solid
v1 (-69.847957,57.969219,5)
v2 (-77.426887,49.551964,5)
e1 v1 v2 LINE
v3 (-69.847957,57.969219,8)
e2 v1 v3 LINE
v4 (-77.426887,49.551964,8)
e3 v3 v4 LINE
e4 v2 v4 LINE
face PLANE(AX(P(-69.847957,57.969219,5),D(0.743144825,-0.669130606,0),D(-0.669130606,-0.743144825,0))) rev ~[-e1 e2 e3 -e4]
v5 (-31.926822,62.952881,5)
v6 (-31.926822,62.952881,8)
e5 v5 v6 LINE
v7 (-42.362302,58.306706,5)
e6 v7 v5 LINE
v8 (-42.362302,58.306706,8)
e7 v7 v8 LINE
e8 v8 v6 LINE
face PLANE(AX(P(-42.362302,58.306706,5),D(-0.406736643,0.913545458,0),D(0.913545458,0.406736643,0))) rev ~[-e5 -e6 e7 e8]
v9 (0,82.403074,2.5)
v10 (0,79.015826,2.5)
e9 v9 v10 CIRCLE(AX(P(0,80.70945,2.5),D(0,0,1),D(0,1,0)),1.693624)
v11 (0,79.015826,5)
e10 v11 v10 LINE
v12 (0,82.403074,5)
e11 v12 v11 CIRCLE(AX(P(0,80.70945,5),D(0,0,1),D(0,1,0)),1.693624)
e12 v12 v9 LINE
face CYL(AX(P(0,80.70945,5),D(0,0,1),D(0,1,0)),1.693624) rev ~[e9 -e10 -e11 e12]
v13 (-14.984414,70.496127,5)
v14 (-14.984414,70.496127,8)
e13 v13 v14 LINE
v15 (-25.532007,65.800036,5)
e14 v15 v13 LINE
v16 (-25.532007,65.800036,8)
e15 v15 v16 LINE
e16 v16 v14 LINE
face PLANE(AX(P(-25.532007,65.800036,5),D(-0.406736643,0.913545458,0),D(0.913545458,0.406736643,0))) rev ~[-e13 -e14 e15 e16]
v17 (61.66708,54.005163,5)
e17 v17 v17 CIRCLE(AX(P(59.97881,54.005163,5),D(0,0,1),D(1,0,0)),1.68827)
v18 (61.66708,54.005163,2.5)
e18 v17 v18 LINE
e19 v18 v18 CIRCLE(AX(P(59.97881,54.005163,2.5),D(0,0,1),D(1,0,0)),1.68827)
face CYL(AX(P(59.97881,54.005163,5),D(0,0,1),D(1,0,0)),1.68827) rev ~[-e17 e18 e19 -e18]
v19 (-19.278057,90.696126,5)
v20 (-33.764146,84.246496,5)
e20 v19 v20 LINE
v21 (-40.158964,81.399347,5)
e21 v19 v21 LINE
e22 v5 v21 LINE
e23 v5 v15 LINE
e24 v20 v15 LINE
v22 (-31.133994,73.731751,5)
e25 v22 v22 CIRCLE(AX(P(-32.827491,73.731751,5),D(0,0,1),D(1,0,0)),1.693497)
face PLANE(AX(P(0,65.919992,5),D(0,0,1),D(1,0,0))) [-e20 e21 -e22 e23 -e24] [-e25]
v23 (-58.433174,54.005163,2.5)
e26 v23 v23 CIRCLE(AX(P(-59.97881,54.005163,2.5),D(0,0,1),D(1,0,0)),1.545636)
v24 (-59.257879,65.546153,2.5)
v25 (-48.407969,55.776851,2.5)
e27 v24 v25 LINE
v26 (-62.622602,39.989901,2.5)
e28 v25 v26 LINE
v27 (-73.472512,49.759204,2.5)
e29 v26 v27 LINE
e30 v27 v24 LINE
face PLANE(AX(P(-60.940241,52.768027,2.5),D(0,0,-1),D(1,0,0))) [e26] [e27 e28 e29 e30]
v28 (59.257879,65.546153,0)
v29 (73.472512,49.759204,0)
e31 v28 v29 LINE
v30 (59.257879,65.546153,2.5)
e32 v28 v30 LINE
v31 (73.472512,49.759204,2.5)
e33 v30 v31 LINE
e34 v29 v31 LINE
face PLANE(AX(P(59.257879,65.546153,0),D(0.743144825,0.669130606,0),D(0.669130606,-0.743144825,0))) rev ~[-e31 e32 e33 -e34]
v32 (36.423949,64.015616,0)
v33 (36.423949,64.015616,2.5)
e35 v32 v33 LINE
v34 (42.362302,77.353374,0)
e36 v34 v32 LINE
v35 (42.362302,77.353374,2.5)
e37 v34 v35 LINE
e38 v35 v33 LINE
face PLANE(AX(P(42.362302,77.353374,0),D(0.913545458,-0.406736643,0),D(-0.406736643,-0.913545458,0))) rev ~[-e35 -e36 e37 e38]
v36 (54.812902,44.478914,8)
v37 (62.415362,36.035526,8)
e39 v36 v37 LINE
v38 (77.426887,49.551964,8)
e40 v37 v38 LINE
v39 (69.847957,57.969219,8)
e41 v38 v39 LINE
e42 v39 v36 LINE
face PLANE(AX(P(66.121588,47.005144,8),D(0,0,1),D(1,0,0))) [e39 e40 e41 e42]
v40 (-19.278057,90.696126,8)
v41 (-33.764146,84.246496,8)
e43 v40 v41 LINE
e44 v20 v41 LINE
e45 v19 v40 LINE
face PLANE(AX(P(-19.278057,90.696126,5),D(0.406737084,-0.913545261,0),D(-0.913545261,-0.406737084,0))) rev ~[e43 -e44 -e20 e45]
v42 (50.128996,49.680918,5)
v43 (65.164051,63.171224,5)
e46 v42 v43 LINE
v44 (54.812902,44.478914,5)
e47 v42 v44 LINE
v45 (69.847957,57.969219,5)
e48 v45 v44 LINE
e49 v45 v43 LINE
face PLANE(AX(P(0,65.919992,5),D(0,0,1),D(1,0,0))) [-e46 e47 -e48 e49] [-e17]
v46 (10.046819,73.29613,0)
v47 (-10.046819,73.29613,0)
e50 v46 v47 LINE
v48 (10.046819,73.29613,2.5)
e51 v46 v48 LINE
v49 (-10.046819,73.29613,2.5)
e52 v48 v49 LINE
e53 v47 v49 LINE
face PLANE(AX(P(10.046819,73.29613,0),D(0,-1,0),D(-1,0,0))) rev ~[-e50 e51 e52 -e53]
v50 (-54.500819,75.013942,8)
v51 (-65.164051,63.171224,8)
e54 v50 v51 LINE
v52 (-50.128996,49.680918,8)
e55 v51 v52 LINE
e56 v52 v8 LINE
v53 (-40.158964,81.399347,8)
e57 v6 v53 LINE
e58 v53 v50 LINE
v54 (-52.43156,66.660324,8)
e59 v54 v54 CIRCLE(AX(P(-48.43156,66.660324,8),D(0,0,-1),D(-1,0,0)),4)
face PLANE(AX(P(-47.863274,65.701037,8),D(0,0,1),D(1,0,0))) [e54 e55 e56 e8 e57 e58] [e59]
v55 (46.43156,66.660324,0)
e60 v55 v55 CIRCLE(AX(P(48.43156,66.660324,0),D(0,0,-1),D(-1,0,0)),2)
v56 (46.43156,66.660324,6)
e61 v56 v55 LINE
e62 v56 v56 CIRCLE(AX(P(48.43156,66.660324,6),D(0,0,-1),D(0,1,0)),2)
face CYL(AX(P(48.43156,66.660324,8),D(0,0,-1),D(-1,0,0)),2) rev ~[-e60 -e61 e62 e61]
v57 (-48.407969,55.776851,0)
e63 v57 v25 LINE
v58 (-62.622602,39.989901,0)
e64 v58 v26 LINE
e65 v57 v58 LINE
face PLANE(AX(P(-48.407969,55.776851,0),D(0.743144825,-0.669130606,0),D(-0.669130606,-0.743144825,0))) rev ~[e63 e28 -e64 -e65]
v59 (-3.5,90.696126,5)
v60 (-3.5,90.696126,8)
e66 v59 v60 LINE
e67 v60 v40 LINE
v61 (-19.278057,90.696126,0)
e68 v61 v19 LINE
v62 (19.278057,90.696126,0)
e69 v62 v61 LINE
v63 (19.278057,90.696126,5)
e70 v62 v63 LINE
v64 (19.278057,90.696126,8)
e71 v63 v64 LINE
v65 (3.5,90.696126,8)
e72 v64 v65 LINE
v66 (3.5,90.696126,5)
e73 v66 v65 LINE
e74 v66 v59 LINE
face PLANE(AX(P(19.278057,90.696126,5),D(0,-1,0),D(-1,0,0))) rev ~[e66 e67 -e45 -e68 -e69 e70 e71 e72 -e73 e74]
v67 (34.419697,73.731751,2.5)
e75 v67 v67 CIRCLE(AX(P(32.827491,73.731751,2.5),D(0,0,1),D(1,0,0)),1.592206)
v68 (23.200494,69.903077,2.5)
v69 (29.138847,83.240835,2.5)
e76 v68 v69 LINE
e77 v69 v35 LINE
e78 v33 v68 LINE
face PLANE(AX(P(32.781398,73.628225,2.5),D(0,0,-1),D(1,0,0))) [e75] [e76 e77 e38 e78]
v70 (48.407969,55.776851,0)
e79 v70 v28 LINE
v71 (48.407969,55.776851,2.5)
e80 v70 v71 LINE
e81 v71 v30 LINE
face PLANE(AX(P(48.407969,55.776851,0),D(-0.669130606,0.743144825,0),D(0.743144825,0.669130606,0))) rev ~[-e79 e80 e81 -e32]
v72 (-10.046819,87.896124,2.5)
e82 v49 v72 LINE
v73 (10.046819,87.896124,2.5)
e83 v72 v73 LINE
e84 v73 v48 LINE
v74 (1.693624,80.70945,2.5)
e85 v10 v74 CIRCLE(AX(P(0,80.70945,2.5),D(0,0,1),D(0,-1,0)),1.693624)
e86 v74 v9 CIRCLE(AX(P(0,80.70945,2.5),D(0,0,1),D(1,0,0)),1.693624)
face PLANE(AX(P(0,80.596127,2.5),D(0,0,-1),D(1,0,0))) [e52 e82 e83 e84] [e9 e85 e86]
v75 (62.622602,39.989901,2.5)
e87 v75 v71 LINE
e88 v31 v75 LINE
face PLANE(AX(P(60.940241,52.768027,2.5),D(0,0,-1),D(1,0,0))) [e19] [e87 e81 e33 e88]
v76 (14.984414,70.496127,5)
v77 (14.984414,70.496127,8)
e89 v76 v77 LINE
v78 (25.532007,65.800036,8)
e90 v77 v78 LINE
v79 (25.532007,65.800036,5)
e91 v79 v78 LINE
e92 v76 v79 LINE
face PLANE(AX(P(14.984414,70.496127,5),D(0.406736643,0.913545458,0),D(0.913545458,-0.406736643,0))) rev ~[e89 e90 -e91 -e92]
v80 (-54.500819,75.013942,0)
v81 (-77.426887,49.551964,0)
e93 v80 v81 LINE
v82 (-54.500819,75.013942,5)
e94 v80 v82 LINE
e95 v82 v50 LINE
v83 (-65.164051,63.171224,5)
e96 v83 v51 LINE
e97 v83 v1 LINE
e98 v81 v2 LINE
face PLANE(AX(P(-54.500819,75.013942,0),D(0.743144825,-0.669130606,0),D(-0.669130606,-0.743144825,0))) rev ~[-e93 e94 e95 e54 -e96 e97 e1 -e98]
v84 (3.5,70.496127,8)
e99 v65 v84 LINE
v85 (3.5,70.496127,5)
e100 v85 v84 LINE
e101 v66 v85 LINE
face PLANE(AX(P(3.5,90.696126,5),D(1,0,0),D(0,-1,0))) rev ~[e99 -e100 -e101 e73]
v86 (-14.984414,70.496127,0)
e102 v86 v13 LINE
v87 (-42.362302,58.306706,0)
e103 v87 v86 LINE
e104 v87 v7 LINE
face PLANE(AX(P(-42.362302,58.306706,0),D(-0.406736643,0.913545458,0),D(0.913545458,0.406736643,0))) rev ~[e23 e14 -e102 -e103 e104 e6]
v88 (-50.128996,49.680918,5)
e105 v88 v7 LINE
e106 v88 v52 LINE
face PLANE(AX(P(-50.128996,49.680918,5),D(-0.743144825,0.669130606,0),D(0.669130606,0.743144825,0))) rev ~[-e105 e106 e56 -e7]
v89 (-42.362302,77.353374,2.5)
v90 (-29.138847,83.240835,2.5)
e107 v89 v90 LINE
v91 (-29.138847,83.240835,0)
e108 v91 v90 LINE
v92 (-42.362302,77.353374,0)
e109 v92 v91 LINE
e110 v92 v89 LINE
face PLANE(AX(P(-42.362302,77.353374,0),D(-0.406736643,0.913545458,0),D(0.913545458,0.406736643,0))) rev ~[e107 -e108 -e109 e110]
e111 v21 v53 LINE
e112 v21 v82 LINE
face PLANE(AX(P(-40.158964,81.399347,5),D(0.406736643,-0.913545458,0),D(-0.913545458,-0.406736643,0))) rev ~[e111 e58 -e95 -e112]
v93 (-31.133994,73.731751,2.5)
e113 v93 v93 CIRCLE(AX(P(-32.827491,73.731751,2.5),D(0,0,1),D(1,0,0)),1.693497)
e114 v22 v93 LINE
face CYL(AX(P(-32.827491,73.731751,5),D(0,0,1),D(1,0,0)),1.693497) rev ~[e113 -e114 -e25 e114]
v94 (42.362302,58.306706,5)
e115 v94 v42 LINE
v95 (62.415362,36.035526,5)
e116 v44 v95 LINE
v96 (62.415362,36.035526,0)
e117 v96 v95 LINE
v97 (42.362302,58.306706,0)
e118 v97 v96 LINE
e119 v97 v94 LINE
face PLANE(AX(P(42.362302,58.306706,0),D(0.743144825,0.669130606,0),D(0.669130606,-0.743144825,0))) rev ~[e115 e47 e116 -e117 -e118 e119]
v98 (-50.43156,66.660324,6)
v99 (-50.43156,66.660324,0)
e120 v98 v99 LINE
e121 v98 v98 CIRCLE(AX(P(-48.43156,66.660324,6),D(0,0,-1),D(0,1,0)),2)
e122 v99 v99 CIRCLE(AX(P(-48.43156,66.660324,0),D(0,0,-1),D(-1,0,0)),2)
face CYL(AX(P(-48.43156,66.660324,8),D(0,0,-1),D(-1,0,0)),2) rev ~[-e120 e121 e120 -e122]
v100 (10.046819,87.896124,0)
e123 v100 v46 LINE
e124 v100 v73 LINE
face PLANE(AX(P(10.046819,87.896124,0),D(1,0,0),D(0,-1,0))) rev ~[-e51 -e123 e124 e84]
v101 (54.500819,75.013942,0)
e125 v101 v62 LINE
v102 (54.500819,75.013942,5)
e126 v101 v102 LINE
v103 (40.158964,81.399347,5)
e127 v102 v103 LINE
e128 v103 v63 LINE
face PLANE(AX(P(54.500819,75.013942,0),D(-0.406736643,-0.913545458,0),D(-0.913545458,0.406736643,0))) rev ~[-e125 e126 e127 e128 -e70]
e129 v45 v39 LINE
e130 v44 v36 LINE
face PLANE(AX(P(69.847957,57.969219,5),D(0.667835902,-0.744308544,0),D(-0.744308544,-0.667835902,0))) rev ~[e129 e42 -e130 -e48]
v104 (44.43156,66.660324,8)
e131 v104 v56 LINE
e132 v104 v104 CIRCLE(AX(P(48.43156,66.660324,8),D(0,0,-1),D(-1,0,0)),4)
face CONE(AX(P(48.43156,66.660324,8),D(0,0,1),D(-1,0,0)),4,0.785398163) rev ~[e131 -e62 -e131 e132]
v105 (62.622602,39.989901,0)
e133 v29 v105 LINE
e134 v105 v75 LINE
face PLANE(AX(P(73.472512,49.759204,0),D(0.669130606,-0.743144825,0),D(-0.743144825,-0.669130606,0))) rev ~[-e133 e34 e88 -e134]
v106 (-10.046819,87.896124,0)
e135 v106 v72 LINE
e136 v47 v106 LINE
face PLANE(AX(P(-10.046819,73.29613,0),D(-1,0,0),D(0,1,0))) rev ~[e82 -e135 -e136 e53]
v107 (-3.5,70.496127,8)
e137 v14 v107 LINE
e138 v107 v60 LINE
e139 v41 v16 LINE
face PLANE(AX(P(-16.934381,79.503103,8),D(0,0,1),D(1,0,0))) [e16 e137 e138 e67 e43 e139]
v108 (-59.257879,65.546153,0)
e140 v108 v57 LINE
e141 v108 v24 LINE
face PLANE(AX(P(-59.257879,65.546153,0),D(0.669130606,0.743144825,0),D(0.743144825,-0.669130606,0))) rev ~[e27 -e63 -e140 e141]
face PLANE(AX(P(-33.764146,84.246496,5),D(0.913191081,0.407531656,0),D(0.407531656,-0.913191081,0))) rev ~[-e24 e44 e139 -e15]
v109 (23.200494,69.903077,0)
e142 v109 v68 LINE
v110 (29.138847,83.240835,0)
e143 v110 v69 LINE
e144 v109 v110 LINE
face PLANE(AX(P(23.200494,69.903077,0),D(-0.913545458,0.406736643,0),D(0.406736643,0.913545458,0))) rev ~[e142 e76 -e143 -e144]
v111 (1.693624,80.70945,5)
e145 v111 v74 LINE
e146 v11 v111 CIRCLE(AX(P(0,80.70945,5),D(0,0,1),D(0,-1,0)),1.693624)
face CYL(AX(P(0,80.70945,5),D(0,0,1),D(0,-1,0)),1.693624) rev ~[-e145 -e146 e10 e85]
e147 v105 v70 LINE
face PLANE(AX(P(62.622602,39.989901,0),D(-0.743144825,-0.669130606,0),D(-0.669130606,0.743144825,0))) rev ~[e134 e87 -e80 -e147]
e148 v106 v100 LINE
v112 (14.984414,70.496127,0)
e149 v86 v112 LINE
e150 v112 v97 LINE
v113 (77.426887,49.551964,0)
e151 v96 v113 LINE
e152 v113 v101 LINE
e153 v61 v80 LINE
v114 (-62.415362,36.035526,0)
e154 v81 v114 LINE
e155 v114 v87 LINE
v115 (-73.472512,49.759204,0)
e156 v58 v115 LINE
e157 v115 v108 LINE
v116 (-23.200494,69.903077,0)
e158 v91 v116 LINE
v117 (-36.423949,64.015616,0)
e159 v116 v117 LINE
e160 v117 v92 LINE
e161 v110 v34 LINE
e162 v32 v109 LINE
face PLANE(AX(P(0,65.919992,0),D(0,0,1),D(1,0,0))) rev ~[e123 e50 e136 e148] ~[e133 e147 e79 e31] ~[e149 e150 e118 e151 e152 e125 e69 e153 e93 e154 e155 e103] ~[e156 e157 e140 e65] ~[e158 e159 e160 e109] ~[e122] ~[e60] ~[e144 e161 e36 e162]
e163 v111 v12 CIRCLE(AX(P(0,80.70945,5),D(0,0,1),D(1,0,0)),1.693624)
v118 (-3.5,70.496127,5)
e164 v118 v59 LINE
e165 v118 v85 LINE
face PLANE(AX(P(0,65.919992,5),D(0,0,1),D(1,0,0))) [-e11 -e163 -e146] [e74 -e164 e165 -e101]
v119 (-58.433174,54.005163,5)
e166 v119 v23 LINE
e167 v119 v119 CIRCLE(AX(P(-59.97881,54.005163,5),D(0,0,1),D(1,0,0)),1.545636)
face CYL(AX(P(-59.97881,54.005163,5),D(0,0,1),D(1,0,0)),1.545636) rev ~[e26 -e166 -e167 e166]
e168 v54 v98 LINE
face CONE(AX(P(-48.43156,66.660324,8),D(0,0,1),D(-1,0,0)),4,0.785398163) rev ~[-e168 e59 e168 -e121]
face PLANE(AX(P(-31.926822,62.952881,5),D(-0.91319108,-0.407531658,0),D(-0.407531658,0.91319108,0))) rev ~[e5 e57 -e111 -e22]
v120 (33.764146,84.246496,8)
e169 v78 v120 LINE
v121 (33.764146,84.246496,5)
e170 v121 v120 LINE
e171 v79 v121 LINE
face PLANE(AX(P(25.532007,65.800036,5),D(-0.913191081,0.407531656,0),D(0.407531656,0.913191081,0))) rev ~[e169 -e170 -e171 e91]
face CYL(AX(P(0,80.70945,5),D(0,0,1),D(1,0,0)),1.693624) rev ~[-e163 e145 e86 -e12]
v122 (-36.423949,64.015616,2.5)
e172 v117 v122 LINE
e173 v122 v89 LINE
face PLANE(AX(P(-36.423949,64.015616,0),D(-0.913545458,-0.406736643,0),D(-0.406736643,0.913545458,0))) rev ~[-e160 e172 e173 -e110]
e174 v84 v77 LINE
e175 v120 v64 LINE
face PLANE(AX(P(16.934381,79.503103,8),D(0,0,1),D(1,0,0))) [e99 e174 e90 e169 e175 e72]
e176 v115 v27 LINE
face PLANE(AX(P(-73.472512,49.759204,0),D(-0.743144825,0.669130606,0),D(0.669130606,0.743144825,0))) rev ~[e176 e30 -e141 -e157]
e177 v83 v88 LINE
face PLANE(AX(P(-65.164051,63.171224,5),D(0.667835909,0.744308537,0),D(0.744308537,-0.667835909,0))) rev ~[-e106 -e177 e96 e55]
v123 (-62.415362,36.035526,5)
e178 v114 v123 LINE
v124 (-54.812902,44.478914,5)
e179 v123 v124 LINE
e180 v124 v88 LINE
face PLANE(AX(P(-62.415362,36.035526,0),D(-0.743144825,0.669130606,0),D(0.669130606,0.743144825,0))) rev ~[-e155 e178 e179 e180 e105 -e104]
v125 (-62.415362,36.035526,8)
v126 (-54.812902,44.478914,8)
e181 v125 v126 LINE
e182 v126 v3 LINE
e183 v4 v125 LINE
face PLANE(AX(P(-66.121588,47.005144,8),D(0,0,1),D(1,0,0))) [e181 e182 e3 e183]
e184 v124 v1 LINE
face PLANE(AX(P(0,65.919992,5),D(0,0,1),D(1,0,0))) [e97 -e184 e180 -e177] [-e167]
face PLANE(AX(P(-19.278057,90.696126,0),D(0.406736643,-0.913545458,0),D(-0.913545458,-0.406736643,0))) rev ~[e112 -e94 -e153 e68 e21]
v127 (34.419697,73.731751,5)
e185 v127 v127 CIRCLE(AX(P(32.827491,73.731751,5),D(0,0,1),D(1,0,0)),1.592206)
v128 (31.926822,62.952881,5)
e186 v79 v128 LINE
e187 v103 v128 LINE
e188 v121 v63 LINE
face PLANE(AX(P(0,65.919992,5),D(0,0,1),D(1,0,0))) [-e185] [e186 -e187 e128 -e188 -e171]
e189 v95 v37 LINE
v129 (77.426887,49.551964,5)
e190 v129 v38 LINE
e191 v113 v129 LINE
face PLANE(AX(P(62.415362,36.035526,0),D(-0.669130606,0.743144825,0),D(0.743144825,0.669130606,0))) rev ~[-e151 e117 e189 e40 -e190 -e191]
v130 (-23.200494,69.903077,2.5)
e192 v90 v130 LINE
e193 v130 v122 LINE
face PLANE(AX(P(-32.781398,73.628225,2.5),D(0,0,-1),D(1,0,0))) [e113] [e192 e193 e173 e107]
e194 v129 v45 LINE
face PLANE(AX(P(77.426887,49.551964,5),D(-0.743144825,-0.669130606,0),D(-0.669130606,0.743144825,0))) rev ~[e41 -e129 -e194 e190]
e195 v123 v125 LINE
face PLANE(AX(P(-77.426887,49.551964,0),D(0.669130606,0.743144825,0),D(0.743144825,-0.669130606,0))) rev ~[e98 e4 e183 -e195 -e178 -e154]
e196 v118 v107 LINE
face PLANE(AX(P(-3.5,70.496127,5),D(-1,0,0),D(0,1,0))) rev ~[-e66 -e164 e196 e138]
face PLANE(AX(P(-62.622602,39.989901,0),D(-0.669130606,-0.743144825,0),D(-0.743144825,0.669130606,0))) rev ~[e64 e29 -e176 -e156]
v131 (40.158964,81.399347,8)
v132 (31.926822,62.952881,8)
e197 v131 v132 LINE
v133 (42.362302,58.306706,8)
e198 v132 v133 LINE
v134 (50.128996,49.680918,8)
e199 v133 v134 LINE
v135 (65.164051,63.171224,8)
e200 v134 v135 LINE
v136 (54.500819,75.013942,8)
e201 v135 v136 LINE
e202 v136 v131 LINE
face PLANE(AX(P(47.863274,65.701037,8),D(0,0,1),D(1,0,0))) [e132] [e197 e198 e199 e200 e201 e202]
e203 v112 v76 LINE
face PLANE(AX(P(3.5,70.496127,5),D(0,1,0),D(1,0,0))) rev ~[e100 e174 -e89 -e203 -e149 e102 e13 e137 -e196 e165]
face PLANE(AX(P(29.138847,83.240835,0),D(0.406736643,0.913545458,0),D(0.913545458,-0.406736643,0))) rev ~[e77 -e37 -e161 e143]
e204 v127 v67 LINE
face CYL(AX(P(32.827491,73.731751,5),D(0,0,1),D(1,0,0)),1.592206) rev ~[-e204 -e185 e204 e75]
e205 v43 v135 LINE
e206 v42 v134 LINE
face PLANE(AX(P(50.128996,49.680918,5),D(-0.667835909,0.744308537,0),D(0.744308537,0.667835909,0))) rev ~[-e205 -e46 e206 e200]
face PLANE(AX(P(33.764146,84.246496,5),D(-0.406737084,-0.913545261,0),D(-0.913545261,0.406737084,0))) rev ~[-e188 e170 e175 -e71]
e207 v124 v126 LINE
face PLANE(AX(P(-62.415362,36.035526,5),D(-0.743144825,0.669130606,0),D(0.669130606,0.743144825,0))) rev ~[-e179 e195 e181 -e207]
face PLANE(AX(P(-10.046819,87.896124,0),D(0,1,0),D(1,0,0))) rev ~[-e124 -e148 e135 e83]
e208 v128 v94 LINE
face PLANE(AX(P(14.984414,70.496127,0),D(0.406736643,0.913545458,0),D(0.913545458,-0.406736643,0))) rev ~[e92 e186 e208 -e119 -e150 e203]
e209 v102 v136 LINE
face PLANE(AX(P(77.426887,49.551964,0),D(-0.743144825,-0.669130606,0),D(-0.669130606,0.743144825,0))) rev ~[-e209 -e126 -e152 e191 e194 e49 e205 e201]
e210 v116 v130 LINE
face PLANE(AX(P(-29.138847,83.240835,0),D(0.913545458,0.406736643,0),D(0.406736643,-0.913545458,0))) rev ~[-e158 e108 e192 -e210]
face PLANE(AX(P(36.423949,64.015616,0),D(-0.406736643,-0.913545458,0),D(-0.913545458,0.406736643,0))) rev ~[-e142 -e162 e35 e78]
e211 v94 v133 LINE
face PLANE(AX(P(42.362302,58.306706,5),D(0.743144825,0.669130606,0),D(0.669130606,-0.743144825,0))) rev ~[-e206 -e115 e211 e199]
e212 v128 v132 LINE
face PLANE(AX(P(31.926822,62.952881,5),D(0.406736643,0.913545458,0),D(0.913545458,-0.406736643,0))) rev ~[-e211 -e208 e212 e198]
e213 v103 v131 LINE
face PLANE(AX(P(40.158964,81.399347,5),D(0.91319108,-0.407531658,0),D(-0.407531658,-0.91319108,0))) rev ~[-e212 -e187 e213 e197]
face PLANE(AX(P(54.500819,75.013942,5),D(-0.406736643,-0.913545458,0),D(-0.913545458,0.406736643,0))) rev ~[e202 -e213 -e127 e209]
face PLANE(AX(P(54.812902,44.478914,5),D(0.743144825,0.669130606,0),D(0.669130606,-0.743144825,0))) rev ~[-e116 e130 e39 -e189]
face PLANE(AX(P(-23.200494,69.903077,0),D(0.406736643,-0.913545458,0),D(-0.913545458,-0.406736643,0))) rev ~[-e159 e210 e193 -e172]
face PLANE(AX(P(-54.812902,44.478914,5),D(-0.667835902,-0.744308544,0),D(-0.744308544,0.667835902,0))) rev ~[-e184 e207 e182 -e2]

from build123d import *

# Parameters (mm, degrees)
F1_DEPTH       = 5
F3_DEPTH       = 3
F6_D           = 4
F6_CSINK_D     = 8
F6_CSINK_ANGLE = 90
F4_R           = 1.5456356791
F4_R_2         = 1.6934971507
F4_R_3         = 1.5922062155
F4_R_4         = 1.6882702818
F7_DEPTH       = 11.1
F9_DEPTH       = 2.5
F10_R          = 1.4984626167
F11_DEPTH      = 1
F12_R          = 1.6745754143
F13_DEPTH      = 1
F14_W          = 7
F14_H          = 20.1999992132
F14_R          = 1.6202134685
F15_DEPTH      = 1
F16_R          = 1.6358408112
F17_DEPTH      = 1
F18_R          = 1.6662774654
F19_DEPTH      = 1


with BuildPart() as f1:
    # F0 (on Top) → F1 (new body)
    with BuildSketch(Plane.XY):
        Polygon((-42.3623017311, 58.3067062123), (-14.9844143682, 70.4961270094), (14.9844143682, 70.4961270094), (42.3623017311, 58.3067062123), (62.4153622753, 36.0355262112), (77.4268871653, 49.5519639332), (54.5008190929, 75.0139420503), (19.2780567467, 90.6961262226), (-19.2780567467, 90.6961262226), (-54.5008190929, 75.0139420503), (-77.4268871653, 49.5519639332), (-62.4153622753, 36.0355262112), align=None)
    extrude(amount=F1_DEPTH)

    # F2 (on face) → F3 (join)
    with BuildSketch(Plane.XY.offset(5)):
        Polygon((19.2780567467, 90.6961262226), (3.5, 90.6961262226), (3.5, 70.4961270094), (14.9844143682, 70.4961270094), (25.532006503, 65.80003643), (33.7641456248, 84.2464955399), align=None)
        Polygon((-3.5, 70.4961270094), (-3.5, 90.6961262226), (-19.2780567467, 90.6961262226), (-33.7641456248, 84.2464955399), (-25.532006503, 65.80003643), (-14.9844143682, 70.4961270094), align=None)
        Polygon((54.5008190929, 75.0139420503), (40.1589641997, 81.3993472492), (31.9268219148, 62.9528811714), (42.3623017311, 58.3067062123), (50.1289961086, 49.6809182377), (65.1640507517, 63.1712235215), align=None)
        Polygon((77.4268871653, 49.5519639332), (69.8479569532, 57.9692186757), (54.8129021735, 44.4789135438), (62.4153622753, 36.0355262112), align=None)
        Polygon((-31.9268219148, 62.9528811714), (-40.1589641997, 81.3993472492), (-54.5008190929, 75.0139420503), (-65.1640507517, 63.1712235215), (-50.1289961086, 49.6809182377), (-42.3623017311, 58.3067062123), align=None)
        Polygon((-54.8129021735, 44.4789135438), (-69.8479569532, 57.9692186757), (-77.4268871653, 49.5519639332), (-62.4153622753, 36.0355262112), align=None)
    extrude(amount=F3_DEPTH)

    # F6 (through all)
    with Locations(Plane.XY.offset(8)):
        with Locations((-48.431560412, 66.6603241313), (48.431560412, 66.6603241313)):
            CounterSinkHole(F6_D / 2, F6_CSINK_D / 2, counter_sink_angle=F6_CSINK_ANGLE)

    # F4 (on face) → F7 (cut)
    with BuildSketch(Plane.XY.offset(5)):
        with BuildLine():
            ThreePointArc((1.6936241921, 80.7094499469), (1.197573151, 81.9070230979), (0, 82.403074139))
            Line((0, 82.403074139), (0, 79.0158257547))
            ThreePointArc((0, 79.0158257547), (1.197573151, 79.5118767958), (1.6936241921, 80.7094499469))
        make_face()
        with BuildLine():
            Line((0, 79.0158257547), (0, 82.403074139))
            ThreePointArc((0, 82.403074139), (-1.6936241921, 80.7094499469), (0, 79.0158257547))
        make_face()
        with Locations((-59.9788100952, 54.0051631818)):
            Circle(F4_R)
        with Locations((-32.8274907359, 73.7317513878)):
            Circle(F4_R_2)
        with Locations((32.8274907359, 73.7317513878)):
            Circle(F4_R_3)
        with Locations((59.9788100952, 54.0051631818)):
            Circle(F4_R_4)
    extrude(amount=-F7_DEPTH, mode=Mode.SUBTRACT)

    # F8 (on face) → F9 (cut)
    with BuildSketch(Plane(origin=(0, 0, 0), x_dir=(1, 0, 0), z_dir=(0, 0, -1))):
        Polygon((62.6226022883, -39.9899012252), (48.4079691697, -55.7768506604), (59.2578790327, -65.5461533813), (73.4725121513, -49.7592039462), align=None)
        Polygon((23.2004942383, -69.9030770993), (29.1388467156, -83.2408351397), (42.3623017311, -77.3533736479), (36.4239492538, -64.0156156075), align=None)
        Polygon((-10.046819225, -73.2961297035), (-10.046819225, -87.8961235285), (10.046819225, -87.8961235285), (10.046819225, -73.2961297035), (0, -73.2961297035), align=None)
        Polygon((-23.2004942383, -69.9030770993), (-36.4239492538, -64.0156156075), (-42.3623017311, -77.3533736479), (-29.1388467156, -83.2408351397), align=None)
        Polygon((-48.4079691697, -55.7768506604), (-62.6226022883, -39.9899012252), (-73.4725121513, -49.7592039462), (-59.2578790327, -65.5461533813), align=None)
    extrude(amount=-F9_DEPTH, mode=Mode.SUBTRACT)


with BuildPart() as f11:
    # F10 (on face) → F11 (new body)
    with BuildSketch(Plane.XY.offset(5)):
        Polygon((-50.1289961086, 49.6809182377), (-65.1640507517, 63.1712235215), (-69.8479569532, 57.9692186757), (-54.8129021735, 44.4789135438), align=None)
        with Locations((-59.9788100952, 54.0051631818)):
            Circle(F10_R, mode=Mode.SUBTRACT)
    extrude(amount=F11_DEPTH)


with BuildPart() as f13:
    # F12 (on face) → F13 (new body)
    with BuildSketch(Plane.XY.offset(5)):
        Polygon((-25.532006503, 65.80003643), (-33.7641487432, 84.2465025277), (-40.1589641997, 81.3993472492), (-31.9268219148, 62.9528811714), align=None)
        with Locations((-32.8274907359, 73.7317513878)):
            Circle(F12_R, mode=Mode.SUBTRACT)
    extrude(amount=F13_DEPTH)


with BuildPart() as f15:
    # F14 (on face) → F15 (new body)
    with BuildSketch(Plane.XY.offset(5)):
        with Locations((0, 80.596126616)):
            Rectangle(F14_W, F14_H)
        with Locations((0, 80.7094499469)):
            Circle(F14_R, mode=Mode.SUBTRACT)
    extrude(amount=F15_DEPTH)


with BuildPart() as f17:
    # F16 (on face) → F17 (new body)
    with BuildSketch(Plane.XY.offset(5)):
        Polygon((40.1589641997, 81.3993472492), (33.7641487432, 84.2465025277), (25.532006503, 65.80003643), (31.9268219148, 62.9528811714), align=None)
        with Locations((32.8274907359, 73.7317513878)):
            Circle(F16_R, mode=Mode.SUBTRACT)
    extrude(amount=F17_DEPTH)


with BuildPart() as f19:
    # F18 (on face) → F19 (new body)
    with BuildSketch(Plane.XY.offset(5)):
        Polygon((69.8479569532, 57.9692186757), (65.1640507517, 63.1712235215), (50.1289961086, 49.6809182377), (54.8129021735, 44.4789135438), align=None)
        with Locations((59.9788100952, 54.0051631818)):
            Circle(F18_R, mode=Mode.SUBTRACT)
    extrude(amount=F19_DEPTH)


solid = f1.part
